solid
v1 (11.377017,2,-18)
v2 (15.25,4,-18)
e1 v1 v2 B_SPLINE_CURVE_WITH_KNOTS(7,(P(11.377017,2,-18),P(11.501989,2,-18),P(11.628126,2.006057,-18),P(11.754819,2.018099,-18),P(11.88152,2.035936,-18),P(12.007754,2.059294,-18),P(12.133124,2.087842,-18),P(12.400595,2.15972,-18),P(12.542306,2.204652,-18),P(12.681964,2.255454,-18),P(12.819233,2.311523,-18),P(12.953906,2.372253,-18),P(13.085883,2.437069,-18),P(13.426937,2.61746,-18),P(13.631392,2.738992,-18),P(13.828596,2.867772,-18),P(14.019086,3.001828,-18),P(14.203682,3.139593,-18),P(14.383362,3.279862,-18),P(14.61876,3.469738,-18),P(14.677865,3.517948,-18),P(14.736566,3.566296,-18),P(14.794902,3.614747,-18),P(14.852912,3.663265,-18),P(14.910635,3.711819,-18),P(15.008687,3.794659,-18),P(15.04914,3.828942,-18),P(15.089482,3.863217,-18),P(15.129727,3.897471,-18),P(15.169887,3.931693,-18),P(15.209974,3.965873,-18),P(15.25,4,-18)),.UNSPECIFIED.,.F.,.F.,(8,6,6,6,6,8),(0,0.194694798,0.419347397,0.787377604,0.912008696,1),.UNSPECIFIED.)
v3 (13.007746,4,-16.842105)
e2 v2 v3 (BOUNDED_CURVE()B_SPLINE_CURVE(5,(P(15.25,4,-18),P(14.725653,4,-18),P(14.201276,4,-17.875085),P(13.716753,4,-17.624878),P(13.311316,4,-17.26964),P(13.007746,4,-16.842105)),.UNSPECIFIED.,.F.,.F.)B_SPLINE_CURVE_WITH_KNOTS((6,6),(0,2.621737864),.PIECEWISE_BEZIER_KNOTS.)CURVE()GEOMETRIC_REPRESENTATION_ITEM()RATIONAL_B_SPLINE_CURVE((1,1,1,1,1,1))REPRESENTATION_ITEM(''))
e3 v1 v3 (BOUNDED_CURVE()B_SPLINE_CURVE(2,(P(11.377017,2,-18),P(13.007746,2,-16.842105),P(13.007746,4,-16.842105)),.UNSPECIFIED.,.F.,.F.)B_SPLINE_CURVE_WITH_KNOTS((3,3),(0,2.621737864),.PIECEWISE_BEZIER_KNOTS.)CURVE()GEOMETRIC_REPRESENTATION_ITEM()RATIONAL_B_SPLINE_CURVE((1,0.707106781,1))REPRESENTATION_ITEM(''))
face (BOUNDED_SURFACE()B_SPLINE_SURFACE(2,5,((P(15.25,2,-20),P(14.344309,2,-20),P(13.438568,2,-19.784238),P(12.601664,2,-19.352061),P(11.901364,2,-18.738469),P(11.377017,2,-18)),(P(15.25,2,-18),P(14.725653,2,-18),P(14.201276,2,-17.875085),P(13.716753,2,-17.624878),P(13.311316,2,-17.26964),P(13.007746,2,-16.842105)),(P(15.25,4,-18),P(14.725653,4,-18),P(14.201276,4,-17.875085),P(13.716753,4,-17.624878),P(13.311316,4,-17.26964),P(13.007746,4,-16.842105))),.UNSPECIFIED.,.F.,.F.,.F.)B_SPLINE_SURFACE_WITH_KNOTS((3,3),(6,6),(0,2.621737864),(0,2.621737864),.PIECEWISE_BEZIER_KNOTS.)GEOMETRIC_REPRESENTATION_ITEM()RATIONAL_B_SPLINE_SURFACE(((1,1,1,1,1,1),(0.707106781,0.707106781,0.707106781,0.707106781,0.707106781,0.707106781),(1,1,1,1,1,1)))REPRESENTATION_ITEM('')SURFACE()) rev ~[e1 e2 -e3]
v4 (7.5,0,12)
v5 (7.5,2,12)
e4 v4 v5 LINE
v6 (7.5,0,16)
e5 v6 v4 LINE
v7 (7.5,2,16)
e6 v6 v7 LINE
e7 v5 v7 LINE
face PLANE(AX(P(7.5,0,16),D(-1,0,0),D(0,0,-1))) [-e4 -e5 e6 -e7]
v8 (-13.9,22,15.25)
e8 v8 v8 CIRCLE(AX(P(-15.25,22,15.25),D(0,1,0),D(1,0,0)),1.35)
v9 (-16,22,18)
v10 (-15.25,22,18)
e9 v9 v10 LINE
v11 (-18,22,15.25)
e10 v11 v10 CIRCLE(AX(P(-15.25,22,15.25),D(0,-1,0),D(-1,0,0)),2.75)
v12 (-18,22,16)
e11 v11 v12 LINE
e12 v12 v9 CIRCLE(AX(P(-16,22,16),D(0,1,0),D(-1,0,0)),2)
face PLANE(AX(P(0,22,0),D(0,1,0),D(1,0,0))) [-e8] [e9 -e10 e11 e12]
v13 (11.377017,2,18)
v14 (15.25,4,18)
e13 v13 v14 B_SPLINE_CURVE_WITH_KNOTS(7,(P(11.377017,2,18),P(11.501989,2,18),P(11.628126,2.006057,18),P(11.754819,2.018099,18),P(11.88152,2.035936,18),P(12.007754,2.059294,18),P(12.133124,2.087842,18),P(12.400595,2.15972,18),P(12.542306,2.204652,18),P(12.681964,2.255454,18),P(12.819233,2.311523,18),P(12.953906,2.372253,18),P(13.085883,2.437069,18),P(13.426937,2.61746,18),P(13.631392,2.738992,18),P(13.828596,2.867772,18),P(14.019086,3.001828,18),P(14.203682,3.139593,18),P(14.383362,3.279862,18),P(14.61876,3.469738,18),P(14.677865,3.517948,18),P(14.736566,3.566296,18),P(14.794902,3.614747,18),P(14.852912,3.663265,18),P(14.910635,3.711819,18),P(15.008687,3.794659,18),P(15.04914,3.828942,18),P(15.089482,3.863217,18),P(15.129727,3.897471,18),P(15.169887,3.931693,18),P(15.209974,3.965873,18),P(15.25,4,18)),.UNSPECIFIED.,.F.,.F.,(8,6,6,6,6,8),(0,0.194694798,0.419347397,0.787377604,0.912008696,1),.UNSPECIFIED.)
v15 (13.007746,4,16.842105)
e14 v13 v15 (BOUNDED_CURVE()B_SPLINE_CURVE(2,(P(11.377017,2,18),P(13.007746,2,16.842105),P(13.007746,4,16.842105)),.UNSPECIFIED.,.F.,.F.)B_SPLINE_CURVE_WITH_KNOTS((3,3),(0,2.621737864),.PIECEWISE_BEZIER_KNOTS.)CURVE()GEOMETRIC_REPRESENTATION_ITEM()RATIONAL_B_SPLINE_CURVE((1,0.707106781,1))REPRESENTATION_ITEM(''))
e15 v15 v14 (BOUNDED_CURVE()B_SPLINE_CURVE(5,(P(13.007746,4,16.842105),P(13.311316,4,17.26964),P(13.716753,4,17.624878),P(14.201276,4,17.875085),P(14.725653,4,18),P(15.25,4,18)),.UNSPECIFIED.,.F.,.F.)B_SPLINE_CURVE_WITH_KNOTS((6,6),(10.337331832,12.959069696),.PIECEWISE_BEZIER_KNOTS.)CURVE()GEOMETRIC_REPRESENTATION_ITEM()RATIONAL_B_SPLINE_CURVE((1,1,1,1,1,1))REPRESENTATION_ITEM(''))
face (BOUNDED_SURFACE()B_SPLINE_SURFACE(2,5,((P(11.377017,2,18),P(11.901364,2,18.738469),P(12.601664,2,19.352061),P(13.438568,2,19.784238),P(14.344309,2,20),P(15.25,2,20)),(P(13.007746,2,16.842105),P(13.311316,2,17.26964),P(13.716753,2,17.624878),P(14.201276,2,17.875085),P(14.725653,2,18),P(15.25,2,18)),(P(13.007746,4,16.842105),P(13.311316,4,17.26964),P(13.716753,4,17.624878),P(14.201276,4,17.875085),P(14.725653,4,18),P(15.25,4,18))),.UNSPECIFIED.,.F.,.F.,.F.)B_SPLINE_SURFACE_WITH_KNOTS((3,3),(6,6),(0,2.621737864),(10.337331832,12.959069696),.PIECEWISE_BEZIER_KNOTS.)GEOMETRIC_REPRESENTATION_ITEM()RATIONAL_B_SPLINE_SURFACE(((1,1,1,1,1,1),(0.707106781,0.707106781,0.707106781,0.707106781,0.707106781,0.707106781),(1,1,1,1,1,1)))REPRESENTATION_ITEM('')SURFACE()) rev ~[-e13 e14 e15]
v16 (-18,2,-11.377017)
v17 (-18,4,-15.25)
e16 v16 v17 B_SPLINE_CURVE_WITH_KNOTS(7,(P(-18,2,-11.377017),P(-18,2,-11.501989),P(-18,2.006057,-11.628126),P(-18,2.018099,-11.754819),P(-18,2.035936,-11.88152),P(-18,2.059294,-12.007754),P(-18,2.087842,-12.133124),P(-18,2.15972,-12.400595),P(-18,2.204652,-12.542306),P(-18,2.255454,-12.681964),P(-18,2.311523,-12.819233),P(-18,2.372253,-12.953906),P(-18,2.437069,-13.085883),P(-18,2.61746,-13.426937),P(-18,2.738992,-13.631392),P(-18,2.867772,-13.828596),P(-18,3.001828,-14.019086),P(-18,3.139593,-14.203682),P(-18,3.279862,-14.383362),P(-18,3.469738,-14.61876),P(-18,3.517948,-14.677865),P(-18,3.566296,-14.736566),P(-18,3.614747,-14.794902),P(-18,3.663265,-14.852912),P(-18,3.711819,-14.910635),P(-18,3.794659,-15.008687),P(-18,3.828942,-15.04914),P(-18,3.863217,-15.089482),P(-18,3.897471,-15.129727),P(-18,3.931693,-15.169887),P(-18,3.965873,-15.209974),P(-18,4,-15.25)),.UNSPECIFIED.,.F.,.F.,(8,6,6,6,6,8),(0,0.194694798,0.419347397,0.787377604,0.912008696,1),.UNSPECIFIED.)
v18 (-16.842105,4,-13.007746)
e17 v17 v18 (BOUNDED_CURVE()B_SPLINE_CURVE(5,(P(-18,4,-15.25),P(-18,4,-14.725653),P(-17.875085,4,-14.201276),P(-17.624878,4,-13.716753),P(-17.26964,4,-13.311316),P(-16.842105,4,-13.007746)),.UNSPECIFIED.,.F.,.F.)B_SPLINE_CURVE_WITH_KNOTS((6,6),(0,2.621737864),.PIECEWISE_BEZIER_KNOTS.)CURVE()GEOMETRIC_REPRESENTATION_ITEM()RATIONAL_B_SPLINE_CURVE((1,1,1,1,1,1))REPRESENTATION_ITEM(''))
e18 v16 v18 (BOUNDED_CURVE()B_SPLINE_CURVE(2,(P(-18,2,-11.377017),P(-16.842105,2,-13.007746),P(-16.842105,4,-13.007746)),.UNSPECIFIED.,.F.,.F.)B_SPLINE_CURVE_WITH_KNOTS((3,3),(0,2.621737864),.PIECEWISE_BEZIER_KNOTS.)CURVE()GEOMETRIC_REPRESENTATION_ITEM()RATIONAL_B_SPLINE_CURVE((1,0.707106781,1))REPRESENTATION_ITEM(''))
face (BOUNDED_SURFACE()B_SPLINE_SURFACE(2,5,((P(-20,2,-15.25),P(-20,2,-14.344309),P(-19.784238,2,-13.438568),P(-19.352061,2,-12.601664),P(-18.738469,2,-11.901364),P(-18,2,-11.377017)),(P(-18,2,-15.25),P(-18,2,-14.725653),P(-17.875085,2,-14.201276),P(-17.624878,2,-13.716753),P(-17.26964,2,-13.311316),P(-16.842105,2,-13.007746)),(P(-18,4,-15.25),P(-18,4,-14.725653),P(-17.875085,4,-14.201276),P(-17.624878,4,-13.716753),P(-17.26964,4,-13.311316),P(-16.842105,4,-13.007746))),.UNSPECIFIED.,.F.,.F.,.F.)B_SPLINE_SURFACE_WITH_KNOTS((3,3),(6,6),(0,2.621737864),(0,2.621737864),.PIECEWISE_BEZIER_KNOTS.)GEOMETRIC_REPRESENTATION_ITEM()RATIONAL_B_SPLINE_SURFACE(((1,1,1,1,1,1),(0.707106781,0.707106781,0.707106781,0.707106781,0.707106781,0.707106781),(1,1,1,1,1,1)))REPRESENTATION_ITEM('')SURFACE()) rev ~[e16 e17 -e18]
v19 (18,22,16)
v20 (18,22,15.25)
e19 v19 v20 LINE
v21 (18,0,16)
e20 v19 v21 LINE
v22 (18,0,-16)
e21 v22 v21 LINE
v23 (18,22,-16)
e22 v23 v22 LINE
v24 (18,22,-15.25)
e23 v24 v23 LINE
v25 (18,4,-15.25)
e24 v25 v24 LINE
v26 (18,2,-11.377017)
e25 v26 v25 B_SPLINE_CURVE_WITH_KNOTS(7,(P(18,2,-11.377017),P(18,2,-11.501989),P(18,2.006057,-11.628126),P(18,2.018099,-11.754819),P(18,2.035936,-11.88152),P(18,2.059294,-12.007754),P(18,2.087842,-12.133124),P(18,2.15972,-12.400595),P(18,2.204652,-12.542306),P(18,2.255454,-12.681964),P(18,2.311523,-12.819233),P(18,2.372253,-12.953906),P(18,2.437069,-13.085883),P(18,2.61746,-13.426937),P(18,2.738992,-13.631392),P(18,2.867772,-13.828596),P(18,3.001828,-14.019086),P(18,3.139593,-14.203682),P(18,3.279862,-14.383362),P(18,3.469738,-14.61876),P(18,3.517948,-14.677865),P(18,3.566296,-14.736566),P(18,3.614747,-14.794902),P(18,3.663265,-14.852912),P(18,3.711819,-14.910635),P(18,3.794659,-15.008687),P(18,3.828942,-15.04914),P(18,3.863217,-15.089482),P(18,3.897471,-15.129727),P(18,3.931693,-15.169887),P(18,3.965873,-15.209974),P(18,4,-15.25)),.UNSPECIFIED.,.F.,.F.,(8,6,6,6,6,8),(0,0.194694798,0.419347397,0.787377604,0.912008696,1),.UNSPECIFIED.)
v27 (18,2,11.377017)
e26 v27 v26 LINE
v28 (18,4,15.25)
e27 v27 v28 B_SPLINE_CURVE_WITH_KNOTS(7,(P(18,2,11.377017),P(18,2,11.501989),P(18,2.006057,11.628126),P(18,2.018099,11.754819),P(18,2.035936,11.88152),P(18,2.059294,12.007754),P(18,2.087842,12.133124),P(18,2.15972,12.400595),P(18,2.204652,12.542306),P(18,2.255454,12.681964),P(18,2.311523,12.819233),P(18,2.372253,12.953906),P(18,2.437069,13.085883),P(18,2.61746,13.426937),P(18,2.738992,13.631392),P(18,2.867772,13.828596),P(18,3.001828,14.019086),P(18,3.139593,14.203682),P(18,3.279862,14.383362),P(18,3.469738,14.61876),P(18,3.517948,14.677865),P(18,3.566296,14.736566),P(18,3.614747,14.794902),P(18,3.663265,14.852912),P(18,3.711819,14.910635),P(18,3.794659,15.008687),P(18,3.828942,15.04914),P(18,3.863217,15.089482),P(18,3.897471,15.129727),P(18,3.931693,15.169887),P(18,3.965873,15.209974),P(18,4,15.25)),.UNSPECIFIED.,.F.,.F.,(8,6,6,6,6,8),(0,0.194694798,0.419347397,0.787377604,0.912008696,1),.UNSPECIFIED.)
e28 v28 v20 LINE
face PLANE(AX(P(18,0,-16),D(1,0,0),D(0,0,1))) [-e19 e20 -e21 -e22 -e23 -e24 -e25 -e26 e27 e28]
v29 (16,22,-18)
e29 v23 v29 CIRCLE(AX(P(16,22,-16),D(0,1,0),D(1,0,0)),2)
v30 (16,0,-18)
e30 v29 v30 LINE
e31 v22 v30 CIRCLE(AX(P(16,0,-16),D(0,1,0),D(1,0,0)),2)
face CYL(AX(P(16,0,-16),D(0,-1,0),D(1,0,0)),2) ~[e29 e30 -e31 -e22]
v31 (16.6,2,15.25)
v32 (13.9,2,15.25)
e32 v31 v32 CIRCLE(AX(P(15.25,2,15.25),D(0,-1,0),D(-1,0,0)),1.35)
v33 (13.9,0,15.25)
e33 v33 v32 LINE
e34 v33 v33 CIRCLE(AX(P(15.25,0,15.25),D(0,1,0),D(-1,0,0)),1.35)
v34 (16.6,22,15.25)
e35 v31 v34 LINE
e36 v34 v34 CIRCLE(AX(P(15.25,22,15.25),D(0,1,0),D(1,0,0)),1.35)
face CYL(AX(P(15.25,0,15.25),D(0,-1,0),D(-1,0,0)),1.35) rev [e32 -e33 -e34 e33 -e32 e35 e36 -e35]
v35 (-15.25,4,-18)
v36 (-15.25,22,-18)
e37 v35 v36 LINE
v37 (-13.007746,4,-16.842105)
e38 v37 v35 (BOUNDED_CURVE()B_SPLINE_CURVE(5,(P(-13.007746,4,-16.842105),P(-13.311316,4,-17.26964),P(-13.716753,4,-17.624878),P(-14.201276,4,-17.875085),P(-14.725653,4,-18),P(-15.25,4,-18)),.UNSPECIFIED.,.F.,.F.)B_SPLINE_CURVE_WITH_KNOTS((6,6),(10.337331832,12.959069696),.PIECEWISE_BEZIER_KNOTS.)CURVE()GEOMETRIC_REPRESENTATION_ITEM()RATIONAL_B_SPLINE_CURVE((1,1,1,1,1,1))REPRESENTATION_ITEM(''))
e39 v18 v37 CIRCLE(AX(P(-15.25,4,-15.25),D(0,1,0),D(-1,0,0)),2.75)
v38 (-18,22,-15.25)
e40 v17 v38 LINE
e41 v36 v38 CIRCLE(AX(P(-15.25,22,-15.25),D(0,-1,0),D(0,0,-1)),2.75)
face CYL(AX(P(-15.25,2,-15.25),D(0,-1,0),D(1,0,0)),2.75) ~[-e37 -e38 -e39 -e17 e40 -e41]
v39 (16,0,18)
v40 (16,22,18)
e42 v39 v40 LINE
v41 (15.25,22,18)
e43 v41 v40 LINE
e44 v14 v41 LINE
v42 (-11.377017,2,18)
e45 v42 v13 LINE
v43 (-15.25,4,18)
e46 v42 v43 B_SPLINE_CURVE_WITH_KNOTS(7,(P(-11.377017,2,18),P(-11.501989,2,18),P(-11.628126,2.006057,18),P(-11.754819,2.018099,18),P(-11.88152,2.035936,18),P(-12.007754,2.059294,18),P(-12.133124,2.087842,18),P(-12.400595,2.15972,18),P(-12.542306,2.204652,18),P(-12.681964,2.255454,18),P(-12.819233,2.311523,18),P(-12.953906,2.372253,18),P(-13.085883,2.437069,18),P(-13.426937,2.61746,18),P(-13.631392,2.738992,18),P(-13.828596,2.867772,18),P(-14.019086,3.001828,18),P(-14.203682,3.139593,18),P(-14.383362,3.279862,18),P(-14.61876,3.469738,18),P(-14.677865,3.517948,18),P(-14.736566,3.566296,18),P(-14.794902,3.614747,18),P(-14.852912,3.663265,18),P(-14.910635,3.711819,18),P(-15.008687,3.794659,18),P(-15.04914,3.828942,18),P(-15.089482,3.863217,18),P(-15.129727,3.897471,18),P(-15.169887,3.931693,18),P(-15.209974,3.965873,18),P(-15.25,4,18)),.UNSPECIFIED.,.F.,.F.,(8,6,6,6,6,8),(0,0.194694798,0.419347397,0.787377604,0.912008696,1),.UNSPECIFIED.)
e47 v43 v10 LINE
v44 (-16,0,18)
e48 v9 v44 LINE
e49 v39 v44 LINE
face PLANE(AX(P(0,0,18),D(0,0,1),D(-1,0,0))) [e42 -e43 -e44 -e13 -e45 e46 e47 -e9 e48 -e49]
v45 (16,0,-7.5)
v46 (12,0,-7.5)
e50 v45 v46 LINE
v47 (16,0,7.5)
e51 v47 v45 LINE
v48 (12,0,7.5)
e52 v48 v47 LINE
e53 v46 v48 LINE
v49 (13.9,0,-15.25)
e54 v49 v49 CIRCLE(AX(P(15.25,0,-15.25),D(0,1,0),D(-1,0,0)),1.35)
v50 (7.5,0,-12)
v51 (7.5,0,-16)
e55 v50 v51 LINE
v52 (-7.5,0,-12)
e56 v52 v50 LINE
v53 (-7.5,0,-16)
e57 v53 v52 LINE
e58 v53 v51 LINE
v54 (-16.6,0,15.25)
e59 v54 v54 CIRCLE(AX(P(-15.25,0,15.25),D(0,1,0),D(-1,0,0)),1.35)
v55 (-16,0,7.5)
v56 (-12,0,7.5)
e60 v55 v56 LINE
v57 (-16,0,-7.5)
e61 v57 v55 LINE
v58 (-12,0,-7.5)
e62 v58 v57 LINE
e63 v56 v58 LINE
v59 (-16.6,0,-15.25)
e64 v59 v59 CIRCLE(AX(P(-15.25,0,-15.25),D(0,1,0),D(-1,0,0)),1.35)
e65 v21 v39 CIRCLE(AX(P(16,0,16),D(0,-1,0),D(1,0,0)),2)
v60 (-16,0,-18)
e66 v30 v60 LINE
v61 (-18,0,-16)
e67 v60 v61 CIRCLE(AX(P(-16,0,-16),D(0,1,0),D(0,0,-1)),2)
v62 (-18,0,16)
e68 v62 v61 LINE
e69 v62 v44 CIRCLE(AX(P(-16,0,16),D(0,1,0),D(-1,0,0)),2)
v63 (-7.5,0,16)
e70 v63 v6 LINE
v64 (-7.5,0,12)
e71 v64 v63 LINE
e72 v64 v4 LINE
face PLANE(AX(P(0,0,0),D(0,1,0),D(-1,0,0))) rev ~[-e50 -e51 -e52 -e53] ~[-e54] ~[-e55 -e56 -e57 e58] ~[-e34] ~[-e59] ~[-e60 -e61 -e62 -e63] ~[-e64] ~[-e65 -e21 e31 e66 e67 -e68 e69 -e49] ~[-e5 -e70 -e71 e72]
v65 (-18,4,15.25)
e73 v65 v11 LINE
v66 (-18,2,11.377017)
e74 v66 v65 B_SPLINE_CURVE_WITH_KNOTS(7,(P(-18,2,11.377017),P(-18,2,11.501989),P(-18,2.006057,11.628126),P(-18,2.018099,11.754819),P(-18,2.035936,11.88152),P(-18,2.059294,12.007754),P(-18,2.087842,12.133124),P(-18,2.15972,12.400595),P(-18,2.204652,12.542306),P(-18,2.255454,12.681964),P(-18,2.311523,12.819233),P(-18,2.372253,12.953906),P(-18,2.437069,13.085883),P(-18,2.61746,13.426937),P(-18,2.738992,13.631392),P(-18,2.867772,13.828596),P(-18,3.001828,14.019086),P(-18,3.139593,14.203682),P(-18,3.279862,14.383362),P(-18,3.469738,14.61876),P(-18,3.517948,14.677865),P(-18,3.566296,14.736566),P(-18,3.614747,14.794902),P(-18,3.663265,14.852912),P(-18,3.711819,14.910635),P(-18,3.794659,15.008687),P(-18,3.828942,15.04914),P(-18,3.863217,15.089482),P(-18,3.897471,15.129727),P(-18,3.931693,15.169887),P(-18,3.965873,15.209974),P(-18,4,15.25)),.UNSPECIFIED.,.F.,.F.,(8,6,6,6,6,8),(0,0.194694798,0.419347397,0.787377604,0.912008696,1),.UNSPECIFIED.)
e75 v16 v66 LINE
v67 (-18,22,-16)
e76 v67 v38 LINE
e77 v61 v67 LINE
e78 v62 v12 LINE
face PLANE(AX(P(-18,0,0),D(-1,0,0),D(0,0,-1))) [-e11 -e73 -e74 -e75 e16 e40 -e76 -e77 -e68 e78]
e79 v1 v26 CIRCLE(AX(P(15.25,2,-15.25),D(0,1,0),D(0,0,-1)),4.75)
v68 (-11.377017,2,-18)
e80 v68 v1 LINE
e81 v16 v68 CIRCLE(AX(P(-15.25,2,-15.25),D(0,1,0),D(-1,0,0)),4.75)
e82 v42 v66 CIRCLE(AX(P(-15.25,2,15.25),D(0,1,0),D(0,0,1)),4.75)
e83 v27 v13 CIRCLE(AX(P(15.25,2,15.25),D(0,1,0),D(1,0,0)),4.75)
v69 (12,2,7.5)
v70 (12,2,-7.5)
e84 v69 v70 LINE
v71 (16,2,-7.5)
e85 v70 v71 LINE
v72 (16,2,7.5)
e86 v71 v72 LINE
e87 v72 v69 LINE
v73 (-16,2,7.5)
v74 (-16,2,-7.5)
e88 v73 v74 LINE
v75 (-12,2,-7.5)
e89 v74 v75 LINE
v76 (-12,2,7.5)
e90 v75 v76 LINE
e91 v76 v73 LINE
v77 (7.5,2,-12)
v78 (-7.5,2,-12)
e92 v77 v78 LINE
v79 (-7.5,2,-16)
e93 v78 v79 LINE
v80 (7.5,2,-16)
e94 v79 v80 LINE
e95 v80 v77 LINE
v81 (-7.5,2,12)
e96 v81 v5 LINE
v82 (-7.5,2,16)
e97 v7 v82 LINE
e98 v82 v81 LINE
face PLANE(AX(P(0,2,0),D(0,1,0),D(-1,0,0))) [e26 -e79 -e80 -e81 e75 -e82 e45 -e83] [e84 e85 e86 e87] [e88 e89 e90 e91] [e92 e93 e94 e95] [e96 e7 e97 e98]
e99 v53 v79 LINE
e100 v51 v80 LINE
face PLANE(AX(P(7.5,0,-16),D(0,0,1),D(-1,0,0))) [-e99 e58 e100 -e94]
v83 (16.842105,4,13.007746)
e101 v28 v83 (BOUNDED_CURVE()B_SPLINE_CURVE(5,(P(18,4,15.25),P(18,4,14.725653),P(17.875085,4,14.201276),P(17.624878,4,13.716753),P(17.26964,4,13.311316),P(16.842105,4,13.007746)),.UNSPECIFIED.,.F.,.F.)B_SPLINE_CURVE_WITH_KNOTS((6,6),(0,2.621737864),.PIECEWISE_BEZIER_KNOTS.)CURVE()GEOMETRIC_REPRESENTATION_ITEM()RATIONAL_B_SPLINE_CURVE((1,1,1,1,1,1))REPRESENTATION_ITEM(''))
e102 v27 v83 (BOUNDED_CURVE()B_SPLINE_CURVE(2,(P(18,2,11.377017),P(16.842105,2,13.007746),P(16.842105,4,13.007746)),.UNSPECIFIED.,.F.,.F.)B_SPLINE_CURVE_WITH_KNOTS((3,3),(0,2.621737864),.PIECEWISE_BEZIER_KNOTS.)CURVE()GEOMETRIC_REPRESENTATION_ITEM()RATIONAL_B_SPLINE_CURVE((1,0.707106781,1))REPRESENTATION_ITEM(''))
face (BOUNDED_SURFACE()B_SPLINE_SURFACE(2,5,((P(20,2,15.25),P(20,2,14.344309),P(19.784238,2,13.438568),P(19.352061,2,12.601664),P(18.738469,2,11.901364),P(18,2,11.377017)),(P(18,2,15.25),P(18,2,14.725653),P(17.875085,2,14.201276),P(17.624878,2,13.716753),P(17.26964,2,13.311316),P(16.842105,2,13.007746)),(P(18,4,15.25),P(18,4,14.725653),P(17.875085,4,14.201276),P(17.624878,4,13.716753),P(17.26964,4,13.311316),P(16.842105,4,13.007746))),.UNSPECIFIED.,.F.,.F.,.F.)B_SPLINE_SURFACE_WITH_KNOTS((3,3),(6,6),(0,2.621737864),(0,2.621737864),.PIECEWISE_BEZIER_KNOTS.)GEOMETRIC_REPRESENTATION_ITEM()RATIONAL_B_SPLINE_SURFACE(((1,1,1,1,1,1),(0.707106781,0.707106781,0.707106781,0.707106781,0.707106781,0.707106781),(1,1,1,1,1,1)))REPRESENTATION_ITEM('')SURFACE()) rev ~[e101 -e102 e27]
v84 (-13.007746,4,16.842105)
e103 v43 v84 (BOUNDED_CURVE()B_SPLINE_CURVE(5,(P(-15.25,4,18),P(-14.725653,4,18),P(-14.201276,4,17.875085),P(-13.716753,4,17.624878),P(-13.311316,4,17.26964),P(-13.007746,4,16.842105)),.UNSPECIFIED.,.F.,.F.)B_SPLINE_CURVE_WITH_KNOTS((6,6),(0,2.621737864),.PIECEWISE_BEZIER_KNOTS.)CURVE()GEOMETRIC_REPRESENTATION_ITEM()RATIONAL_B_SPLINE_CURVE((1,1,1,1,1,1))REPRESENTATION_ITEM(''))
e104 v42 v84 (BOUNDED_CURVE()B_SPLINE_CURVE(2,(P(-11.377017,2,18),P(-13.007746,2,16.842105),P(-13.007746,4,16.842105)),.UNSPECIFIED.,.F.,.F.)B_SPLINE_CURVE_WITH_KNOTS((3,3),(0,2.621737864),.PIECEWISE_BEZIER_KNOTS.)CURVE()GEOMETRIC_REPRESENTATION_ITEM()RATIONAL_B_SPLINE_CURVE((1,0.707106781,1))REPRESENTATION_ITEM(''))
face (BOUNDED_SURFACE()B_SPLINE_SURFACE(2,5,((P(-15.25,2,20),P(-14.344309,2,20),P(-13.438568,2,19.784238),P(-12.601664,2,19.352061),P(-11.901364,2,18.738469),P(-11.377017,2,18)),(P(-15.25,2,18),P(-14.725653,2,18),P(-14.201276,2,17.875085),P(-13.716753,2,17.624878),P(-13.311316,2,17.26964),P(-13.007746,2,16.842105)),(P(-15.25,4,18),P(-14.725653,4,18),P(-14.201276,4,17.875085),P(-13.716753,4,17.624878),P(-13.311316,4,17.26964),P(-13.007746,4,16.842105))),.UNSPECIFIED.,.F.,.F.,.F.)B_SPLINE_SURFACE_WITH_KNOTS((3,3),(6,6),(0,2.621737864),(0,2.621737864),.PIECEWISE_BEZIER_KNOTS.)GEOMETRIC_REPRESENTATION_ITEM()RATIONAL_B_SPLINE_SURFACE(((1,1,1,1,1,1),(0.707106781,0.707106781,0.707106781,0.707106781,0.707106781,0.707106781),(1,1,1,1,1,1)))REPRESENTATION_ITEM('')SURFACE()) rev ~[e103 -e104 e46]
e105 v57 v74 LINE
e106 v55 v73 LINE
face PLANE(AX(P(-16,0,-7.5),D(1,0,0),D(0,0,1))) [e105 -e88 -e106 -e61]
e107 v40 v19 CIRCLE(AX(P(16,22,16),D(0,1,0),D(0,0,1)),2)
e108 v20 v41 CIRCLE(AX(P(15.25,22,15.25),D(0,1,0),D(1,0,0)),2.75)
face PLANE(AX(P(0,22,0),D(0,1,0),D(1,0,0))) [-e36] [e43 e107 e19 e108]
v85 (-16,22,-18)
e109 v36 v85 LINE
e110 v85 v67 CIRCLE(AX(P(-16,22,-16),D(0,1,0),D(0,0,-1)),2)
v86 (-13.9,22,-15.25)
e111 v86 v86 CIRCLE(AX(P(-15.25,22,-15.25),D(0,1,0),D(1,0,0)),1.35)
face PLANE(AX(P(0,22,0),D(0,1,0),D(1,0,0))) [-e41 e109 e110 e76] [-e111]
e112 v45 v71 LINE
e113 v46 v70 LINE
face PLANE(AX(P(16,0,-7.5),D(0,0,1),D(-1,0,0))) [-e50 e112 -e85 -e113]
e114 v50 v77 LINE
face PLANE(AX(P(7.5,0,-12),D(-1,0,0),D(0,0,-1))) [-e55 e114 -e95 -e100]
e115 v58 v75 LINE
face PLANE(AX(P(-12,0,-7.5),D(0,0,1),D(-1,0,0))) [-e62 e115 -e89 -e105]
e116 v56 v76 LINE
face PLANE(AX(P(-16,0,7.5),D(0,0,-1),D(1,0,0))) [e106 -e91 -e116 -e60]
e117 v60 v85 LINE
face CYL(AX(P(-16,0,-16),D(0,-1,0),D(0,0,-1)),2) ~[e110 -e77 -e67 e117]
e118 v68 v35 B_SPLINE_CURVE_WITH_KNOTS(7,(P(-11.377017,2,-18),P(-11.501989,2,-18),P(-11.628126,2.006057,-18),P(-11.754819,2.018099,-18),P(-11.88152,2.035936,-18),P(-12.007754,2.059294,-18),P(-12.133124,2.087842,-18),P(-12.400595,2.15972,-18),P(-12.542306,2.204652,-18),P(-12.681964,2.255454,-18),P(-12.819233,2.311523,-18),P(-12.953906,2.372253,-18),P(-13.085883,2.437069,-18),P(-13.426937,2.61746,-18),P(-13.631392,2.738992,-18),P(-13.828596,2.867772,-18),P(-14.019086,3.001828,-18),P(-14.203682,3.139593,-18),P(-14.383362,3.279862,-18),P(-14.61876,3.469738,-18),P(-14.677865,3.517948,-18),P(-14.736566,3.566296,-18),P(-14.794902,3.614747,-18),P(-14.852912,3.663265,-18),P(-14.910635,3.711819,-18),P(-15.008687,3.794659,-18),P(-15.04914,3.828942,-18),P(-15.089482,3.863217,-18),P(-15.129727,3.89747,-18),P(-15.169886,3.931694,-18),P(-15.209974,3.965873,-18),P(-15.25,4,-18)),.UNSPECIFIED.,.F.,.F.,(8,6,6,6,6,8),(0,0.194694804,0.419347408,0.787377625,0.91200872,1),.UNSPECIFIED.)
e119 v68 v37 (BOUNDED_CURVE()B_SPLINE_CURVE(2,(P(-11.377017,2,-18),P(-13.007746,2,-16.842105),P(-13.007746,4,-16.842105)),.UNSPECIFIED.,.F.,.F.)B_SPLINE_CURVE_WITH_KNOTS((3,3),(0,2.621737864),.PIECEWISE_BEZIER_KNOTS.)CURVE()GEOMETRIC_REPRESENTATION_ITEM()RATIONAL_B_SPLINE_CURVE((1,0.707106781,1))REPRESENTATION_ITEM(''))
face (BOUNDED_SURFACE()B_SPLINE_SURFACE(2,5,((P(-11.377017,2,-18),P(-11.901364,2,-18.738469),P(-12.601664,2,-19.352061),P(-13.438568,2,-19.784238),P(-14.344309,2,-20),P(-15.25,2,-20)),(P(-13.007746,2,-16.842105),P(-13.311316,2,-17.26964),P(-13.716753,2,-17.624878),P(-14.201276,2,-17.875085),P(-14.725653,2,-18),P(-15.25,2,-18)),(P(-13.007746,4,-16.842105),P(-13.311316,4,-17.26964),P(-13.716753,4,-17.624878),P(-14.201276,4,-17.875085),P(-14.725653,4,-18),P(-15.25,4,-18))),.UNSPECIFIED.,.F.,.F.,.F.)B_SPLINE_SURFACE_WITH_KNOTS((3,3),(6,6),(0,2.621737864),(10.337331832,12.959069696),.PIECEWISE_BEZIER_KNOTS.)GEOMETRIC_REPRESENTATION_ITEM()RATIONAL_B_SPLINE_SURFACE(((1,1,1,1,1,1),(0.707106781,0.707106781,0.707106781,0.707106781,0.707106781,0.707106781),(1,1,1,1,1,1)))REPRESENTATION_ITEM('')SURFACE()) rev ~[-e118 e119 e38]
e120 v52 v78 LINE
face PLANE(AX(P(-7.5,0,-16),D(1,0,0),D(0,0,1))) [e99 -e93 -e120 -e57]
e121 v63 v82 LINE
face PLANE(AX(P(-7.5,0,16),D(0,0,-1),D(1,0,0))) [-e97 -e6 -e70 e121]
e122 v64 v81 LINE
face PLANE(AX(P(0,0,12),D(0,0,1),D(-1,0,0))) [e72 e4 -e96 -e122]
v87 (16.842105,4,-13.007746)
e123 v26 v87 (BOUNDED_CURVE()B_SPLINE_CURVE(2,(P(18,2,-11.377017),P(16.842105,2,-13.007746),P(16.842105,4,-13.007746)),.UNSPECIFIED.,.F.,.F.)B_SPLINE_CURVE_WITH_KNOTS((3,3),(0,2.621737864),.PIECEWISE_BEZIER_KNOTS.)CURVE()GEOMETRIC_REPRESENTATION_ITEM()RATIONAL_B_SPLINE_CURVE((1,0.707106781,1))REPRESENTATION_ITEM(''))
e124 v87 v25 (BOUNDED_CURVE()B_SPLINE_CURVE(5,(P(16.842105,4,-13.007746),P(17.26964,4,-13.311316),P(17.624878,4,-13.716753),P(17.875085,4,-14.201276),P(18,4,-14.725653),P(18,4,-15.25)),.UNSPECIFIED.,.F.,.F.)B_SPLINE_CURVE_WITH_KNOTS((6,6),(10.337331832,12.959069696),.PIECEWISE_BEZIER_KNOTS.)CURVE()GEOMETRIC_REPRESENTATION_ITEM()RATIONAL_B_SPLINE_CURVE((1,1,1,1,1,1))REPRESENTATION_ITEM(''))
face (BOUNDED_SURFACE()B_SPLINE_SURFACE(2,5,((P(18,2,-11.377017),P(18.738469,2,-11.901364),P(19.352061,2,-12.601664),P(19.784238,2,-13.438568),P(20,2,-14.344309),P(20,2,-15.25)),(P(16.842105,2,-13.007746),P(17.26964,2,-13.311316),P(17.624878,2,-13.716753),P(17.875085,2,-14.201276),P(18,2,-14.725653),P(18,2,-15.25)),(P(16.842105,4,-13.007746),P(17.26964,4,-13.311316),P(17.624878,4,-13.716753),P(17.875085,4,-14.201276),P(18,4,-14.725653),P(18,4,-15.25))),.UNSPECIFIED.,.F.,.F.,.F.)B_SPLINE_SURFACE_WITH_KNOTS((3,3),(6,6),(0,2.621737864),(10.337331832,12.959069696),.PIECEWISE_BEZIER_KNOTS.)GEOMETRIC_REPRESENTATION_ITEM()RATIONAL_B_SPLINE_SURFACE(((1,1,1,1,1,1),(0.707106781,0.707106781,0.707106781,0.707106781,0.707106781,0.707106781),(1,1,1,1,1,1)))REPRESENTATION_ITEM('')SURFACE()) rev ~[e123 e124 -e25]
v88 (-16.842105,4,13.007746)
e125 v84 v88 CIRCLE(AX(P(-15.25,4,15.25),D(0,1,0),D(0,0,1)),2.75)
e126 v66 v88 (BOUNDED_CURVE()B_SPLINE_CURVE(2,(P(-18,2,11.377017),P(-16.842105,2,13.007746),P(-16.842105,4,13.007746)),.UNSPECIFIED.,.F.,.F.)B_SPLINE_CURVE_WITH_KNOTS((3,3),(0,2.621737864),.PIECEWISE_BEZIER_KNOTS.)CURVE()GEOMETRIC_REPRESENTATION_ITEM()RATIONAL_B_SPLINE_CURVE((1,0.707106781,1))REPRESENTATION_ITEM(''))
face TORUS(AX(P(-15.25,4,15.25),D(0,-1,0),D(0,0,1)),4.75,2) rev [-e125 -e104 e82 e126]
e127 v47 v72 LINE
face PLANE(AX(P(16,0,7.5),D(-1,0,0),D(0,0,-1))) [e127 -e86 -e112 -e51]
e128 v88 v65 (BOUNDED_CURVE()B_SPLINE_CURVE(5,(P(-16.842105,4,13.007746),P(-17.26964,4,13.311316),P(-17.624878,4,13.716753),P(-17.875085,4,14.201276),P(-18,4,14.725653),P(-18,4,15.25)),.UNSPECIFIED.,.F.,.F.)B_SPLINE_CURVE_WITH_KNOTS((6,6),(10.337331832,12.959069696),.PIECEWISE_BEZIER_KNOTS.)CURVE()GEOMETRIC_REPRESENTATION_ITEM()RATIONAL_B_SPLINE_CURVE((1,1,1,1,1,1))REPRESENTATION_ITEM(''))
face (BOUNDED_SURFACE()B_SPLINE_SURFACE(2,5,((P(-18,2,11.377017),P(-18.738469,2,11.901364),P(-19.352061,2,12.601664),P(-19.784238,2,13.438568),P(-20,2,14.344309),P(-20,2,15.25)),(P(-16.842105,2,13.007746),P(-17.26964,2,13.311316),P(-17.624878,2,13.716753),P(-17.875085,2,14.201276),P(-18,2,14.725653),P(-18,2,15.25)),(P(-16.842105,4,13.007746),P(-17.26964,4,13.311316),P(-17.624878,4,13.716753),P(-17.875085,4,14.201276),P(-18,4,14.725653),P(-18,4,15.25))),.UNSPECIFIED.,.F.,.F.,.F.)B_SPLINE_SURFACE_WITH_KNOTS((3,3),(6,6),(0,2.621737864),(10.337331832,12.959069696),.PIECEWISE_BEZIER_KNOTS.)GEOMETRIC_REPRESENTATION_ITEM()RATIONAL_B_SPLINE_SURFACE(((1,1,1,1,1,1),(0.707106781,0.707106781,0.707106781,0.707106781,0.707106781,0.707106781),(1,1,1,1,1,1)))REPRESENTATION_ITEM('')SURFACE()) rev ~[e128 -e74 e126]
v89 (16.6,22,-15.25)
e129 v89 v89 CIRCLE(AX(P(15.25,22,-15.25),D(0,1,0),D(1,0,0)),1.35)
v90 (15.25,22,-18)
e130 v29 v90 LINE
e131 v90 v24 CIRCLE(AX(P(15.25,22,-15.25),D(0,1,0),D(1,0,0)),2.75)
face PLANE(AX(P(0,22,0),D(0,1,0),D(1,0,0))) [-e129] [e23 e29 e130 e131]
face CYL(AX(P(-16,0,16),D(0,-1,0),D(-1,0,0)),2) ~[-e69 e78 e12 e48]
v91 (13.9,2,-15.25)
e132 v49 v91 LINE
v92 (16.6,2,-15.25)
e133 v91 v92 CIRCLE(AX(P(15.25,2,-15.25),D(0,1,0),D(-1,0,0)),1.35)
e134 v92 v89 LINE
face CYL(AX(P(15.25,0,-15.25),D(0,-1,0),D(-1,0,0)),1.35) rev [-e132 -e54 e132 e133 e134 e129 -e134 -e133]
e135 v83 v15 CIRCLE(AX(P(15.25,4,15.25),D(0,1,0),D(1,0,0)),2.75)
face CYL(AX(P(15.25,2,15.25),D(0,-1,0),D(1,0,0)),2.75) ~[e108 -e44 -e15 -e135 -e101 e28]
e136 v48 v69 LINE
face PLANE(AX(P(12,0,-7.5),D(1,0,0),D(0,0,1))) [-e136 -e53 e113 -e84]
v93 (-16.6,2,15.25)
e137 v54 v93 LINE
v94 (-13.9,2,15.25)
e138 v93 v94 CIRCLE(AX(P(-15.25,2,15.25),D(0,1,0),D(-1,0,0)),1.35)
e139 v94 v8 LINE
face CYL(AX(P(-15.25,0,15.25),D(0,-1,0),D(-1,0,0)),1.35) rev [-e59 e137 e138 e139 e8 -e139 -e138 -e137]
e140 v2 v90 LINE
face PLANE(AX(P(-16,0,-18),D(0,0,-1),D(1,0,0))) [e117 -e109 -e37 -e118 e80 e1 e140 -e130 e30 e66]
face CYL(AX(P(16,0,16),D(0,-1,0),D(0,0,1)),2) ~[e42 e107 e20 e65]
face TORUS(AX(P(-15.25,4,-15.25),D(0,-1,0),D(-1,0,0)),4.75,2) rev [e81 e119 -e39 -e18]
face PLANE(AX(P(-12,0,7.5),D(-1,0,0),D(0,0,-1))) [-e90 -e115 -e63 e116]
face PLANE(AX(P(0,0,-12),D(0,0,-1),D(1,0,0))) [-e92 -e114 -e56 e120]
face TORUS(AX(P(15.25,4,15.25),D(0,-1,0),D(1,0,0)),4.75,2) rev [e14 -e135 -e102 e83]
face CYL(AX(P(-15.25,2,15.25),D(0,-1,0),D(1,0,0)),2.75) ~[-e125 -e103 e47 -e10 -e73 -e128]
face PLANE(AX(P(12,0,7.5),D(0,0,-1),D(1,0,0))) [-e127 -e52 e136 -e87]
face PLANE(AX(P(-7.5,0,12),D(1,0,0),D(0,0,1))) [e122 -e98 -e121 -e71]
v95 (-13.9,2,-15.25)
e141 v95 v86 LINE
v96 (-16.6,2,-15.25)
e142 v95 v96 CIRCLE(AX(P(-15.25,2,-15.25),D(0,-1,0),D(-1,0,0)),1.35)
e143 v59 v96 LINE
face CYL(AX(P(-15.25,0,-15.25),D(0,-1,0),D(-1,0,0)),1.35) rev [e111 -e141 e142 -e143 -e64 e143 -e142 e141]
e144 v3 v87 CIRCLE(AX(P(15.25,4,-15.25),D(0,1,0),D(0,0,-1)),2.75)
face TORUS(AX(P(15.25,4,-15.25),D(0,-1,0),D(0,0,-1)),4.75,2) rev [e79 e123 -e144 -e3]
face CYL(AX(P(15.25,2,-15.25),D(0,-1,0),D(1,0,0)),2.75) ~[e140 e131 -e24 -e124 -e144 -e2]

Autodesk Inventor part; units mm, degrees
ref_plane "YZ Plane" through (0, 0, 0) normal (1, 0, 0) x (0, 1, 0)
ref_plane "XZ Plane" through (0, 0, 0) normal (0, 1, 0) x (-1, 0, 0)
ref_plane "XY Plane" through (0, 0, 0) normal (0, 0, 1) x (1, 0, 0)
sketch "Sketch1" plane through (0, 0, 0) normal (0, 1, 0) x (-1, 0, 0)
  line L0 (16, -18) -> (-16, -18)
  line L1 (-18, -16) -> (-18, 16)
  line L2 (-16, 18) -> (16, 18)
  line L3 (18, 16) -> (18, -16)
  line L4 (18, -18) -> (-18, 18)
  circle A0 centre (-15.25, -15.25) radius 1.35
  line L5 (0, -18) -> (0, 18)
  line L6 (18, 0) -> (-18, 0)
  circle A1 centre (-15.25, 15.25) radius 1.35
  circle A2 centre (15.25, -15.25) radius 1.35
  circle A3 centre (15.25, 15.25) radius 1.35
  arc A4 (16, -18) -> (18, -16) centre (16, -16) ccw
  arc A5 (-18, -16) -> (-16, -18) centre (-16, -16) ccw
  arc A6 (-16, 18) -> (-18, 16) centre (-16, 16) ccw
  arc A7 (18, 16) -> (16, 18) centre (16, 16) ccw
  point P0 (0, 0)
  point P1 (-18, -18)
  point P2 (18, 18)
  point P3 (0, 0)
  dimension "d0" = 36
  dimension "d1" = 36
  dimension "d4" = 2.7
  dimension "d5" = 30.5
  dimension "d6" = 30.5
  dimension "d7" = 2
extrude "Extrusion1" add sketch "Sketch1" along normal blind 2 contours L0 L5 L4 A2 A4 | L0 A5 L1 L6 L5 | L4 A2 L6 L3 A4 | L6 L1 A6 L4 A1 | L4 A1 A6 L2 L5 | L5 L2 A7 L3 L6
sketch "Sketch2" plane through (0, 2, 0) normal (0, 1, 0) x (1, 0, 0)
  circle A0 centre (-15.25, 15.25) radius 1.35 projected
  circle A1 centre (15.25, 15.25) radius 1.35 projected
  circle A2 centre (-15.25, -15.25) radius 1.35 projected
  circle A3 centre (15.25, -15.25) radius 1.35 projected
  circle A4 centre (-15.25, 15.25) radius 2.75
  line L0 (16, 18) -> (-16, 18) projected
  line L1 (0, 18) -> (0, -18)
  line L2 (-16, -18) -> (16, -18) projected
  line L3 (18, -16) -> (18, 16) projected
  line L4 (18, 0) -> (-18, 0)
  line L5 (-18, 16) -> (-18, -16) projected
  arc A5 (-16, 18) -> (-18, 16) centre (-16, 16) ccw projected
  line L6 (-16, -18) -> (16, -18) projected
  arc A6 (16, -18) -> (18, -16) centre (16, -16) ccw projected
  line L7 (18, -16) -> (18, 16) projected
  arc A7 (18, 16) -> (16, 18) centre (16, 16) ccw projected
  line L8 (16, 18) -> (-16, 18) projected
  arc A8 (-16, 18) -> (-18, 16) centre (-16, 16) ccw projected
  line L9 (-18, 16) -> (-18, -16) projected
  arc A9 (-18, -16) -> (-16, -18) centre (-16, -16) ccw projected
  circle A10 centre (15.25, 15.25) radius 1.35 projected
  circle A11 centre (-15.25, 15.25) radius 1.35 projected
  circle A12 centre (-15.25, -15.25) radius 1.35 projected
  circle A13 centre (15.25, -15.25) radius 1.35 projected
  circle A14 centre (15.25, 15.25) radius 2.75
  circle A15 centre (-15.25, -15.25) radius 2.75
  circle A16 centre (15.25, -15.25) radius 2.75
  point P0 (0, 0)
  point P1 (18, -15.25)
  point P2 (15.25, -18)
  point P3 (-15.25, -18)
  point P4 (-18, -15.25)
  point P5 (-18, -16)
  point P6 (15.25, 18)
  point P7 (18, 15.25)
  point P8 (-15.25, 18)
  point P9 (-18, 15.25)
extrude "Extrusion2" add sketch "Sketch2" along normal blind 20 contours A4 | A4 L5 A5 L0 | L0 A7 L3 A14 | A14 | A15 L2 A9 L5 | A15 | A16 L3 A6 L2 | A16
fillet "Fillet1" radius 2 4 edges at (-13.3055, 2, 13.3055) (13.3055, 2, 13.3055) (13.3055, 2, -13.3055) (-13.3055, 2, -13.3055)
sketch "Sketch3" plane through (0, 0, 0) normal (0, -1, 0) x (1, 0, 0)
  line L0 (-7.5, 16) -> (7.5, 16)
  line L1 (7.5, 16) -> (7.5, 12)
  line L2 (7.5, 12) -> (-7.5, 12)
  line L3 (-7.5, 12) -> (-7.5, 16)
  line L4 (-7.5, 12) -> (7.5, 16)
  line L5 (-16, 18) -> (16, 18) projected
  line L6 (0, 18) -> (0, -18)
  line L7 (11.377, -18) -> (-11.377, -18) projected
  line L8 (16, 7.5) -> (16, -7.5)
  line L9 (12, 7.5) -> (16, 7.5)
  line L10 (12, -7.5) -> (12, 7.5)
  line L11 (16, -7.5) -> (12, -7.5)
  line L12 (7.5, -16) -> (-7.5, -16)
  line L13 (7.5, -12) -> (7.5, -16)
  line L14 (-7.5, -12) -> (7.5, -12)
  line L15 (-7.5, -16) -> (-7.5, -12)
  line L16 (-16, -7.5) -> (-16, 7.5)
  line L17 (-12, -7.5) -> (-16, -7.5)
  line L18 (-12, 7.5) -> (-12, -7.5)
  line L19 (-16, 7.5) -> (-12, 7.5)
  point P0 (0, 0)
  point P1 (0, 14)
  point P2 (0, -12)
  point P3 (0, -16)
  dimension "d11" = 4
  dimension "d12" = 4
  dimension "d13" = 15
  dimension "d16" = 360
extrude "Extrusion3" cut sketch "Sketch3" against normal through all
properties part number "v3_gps_stand"
